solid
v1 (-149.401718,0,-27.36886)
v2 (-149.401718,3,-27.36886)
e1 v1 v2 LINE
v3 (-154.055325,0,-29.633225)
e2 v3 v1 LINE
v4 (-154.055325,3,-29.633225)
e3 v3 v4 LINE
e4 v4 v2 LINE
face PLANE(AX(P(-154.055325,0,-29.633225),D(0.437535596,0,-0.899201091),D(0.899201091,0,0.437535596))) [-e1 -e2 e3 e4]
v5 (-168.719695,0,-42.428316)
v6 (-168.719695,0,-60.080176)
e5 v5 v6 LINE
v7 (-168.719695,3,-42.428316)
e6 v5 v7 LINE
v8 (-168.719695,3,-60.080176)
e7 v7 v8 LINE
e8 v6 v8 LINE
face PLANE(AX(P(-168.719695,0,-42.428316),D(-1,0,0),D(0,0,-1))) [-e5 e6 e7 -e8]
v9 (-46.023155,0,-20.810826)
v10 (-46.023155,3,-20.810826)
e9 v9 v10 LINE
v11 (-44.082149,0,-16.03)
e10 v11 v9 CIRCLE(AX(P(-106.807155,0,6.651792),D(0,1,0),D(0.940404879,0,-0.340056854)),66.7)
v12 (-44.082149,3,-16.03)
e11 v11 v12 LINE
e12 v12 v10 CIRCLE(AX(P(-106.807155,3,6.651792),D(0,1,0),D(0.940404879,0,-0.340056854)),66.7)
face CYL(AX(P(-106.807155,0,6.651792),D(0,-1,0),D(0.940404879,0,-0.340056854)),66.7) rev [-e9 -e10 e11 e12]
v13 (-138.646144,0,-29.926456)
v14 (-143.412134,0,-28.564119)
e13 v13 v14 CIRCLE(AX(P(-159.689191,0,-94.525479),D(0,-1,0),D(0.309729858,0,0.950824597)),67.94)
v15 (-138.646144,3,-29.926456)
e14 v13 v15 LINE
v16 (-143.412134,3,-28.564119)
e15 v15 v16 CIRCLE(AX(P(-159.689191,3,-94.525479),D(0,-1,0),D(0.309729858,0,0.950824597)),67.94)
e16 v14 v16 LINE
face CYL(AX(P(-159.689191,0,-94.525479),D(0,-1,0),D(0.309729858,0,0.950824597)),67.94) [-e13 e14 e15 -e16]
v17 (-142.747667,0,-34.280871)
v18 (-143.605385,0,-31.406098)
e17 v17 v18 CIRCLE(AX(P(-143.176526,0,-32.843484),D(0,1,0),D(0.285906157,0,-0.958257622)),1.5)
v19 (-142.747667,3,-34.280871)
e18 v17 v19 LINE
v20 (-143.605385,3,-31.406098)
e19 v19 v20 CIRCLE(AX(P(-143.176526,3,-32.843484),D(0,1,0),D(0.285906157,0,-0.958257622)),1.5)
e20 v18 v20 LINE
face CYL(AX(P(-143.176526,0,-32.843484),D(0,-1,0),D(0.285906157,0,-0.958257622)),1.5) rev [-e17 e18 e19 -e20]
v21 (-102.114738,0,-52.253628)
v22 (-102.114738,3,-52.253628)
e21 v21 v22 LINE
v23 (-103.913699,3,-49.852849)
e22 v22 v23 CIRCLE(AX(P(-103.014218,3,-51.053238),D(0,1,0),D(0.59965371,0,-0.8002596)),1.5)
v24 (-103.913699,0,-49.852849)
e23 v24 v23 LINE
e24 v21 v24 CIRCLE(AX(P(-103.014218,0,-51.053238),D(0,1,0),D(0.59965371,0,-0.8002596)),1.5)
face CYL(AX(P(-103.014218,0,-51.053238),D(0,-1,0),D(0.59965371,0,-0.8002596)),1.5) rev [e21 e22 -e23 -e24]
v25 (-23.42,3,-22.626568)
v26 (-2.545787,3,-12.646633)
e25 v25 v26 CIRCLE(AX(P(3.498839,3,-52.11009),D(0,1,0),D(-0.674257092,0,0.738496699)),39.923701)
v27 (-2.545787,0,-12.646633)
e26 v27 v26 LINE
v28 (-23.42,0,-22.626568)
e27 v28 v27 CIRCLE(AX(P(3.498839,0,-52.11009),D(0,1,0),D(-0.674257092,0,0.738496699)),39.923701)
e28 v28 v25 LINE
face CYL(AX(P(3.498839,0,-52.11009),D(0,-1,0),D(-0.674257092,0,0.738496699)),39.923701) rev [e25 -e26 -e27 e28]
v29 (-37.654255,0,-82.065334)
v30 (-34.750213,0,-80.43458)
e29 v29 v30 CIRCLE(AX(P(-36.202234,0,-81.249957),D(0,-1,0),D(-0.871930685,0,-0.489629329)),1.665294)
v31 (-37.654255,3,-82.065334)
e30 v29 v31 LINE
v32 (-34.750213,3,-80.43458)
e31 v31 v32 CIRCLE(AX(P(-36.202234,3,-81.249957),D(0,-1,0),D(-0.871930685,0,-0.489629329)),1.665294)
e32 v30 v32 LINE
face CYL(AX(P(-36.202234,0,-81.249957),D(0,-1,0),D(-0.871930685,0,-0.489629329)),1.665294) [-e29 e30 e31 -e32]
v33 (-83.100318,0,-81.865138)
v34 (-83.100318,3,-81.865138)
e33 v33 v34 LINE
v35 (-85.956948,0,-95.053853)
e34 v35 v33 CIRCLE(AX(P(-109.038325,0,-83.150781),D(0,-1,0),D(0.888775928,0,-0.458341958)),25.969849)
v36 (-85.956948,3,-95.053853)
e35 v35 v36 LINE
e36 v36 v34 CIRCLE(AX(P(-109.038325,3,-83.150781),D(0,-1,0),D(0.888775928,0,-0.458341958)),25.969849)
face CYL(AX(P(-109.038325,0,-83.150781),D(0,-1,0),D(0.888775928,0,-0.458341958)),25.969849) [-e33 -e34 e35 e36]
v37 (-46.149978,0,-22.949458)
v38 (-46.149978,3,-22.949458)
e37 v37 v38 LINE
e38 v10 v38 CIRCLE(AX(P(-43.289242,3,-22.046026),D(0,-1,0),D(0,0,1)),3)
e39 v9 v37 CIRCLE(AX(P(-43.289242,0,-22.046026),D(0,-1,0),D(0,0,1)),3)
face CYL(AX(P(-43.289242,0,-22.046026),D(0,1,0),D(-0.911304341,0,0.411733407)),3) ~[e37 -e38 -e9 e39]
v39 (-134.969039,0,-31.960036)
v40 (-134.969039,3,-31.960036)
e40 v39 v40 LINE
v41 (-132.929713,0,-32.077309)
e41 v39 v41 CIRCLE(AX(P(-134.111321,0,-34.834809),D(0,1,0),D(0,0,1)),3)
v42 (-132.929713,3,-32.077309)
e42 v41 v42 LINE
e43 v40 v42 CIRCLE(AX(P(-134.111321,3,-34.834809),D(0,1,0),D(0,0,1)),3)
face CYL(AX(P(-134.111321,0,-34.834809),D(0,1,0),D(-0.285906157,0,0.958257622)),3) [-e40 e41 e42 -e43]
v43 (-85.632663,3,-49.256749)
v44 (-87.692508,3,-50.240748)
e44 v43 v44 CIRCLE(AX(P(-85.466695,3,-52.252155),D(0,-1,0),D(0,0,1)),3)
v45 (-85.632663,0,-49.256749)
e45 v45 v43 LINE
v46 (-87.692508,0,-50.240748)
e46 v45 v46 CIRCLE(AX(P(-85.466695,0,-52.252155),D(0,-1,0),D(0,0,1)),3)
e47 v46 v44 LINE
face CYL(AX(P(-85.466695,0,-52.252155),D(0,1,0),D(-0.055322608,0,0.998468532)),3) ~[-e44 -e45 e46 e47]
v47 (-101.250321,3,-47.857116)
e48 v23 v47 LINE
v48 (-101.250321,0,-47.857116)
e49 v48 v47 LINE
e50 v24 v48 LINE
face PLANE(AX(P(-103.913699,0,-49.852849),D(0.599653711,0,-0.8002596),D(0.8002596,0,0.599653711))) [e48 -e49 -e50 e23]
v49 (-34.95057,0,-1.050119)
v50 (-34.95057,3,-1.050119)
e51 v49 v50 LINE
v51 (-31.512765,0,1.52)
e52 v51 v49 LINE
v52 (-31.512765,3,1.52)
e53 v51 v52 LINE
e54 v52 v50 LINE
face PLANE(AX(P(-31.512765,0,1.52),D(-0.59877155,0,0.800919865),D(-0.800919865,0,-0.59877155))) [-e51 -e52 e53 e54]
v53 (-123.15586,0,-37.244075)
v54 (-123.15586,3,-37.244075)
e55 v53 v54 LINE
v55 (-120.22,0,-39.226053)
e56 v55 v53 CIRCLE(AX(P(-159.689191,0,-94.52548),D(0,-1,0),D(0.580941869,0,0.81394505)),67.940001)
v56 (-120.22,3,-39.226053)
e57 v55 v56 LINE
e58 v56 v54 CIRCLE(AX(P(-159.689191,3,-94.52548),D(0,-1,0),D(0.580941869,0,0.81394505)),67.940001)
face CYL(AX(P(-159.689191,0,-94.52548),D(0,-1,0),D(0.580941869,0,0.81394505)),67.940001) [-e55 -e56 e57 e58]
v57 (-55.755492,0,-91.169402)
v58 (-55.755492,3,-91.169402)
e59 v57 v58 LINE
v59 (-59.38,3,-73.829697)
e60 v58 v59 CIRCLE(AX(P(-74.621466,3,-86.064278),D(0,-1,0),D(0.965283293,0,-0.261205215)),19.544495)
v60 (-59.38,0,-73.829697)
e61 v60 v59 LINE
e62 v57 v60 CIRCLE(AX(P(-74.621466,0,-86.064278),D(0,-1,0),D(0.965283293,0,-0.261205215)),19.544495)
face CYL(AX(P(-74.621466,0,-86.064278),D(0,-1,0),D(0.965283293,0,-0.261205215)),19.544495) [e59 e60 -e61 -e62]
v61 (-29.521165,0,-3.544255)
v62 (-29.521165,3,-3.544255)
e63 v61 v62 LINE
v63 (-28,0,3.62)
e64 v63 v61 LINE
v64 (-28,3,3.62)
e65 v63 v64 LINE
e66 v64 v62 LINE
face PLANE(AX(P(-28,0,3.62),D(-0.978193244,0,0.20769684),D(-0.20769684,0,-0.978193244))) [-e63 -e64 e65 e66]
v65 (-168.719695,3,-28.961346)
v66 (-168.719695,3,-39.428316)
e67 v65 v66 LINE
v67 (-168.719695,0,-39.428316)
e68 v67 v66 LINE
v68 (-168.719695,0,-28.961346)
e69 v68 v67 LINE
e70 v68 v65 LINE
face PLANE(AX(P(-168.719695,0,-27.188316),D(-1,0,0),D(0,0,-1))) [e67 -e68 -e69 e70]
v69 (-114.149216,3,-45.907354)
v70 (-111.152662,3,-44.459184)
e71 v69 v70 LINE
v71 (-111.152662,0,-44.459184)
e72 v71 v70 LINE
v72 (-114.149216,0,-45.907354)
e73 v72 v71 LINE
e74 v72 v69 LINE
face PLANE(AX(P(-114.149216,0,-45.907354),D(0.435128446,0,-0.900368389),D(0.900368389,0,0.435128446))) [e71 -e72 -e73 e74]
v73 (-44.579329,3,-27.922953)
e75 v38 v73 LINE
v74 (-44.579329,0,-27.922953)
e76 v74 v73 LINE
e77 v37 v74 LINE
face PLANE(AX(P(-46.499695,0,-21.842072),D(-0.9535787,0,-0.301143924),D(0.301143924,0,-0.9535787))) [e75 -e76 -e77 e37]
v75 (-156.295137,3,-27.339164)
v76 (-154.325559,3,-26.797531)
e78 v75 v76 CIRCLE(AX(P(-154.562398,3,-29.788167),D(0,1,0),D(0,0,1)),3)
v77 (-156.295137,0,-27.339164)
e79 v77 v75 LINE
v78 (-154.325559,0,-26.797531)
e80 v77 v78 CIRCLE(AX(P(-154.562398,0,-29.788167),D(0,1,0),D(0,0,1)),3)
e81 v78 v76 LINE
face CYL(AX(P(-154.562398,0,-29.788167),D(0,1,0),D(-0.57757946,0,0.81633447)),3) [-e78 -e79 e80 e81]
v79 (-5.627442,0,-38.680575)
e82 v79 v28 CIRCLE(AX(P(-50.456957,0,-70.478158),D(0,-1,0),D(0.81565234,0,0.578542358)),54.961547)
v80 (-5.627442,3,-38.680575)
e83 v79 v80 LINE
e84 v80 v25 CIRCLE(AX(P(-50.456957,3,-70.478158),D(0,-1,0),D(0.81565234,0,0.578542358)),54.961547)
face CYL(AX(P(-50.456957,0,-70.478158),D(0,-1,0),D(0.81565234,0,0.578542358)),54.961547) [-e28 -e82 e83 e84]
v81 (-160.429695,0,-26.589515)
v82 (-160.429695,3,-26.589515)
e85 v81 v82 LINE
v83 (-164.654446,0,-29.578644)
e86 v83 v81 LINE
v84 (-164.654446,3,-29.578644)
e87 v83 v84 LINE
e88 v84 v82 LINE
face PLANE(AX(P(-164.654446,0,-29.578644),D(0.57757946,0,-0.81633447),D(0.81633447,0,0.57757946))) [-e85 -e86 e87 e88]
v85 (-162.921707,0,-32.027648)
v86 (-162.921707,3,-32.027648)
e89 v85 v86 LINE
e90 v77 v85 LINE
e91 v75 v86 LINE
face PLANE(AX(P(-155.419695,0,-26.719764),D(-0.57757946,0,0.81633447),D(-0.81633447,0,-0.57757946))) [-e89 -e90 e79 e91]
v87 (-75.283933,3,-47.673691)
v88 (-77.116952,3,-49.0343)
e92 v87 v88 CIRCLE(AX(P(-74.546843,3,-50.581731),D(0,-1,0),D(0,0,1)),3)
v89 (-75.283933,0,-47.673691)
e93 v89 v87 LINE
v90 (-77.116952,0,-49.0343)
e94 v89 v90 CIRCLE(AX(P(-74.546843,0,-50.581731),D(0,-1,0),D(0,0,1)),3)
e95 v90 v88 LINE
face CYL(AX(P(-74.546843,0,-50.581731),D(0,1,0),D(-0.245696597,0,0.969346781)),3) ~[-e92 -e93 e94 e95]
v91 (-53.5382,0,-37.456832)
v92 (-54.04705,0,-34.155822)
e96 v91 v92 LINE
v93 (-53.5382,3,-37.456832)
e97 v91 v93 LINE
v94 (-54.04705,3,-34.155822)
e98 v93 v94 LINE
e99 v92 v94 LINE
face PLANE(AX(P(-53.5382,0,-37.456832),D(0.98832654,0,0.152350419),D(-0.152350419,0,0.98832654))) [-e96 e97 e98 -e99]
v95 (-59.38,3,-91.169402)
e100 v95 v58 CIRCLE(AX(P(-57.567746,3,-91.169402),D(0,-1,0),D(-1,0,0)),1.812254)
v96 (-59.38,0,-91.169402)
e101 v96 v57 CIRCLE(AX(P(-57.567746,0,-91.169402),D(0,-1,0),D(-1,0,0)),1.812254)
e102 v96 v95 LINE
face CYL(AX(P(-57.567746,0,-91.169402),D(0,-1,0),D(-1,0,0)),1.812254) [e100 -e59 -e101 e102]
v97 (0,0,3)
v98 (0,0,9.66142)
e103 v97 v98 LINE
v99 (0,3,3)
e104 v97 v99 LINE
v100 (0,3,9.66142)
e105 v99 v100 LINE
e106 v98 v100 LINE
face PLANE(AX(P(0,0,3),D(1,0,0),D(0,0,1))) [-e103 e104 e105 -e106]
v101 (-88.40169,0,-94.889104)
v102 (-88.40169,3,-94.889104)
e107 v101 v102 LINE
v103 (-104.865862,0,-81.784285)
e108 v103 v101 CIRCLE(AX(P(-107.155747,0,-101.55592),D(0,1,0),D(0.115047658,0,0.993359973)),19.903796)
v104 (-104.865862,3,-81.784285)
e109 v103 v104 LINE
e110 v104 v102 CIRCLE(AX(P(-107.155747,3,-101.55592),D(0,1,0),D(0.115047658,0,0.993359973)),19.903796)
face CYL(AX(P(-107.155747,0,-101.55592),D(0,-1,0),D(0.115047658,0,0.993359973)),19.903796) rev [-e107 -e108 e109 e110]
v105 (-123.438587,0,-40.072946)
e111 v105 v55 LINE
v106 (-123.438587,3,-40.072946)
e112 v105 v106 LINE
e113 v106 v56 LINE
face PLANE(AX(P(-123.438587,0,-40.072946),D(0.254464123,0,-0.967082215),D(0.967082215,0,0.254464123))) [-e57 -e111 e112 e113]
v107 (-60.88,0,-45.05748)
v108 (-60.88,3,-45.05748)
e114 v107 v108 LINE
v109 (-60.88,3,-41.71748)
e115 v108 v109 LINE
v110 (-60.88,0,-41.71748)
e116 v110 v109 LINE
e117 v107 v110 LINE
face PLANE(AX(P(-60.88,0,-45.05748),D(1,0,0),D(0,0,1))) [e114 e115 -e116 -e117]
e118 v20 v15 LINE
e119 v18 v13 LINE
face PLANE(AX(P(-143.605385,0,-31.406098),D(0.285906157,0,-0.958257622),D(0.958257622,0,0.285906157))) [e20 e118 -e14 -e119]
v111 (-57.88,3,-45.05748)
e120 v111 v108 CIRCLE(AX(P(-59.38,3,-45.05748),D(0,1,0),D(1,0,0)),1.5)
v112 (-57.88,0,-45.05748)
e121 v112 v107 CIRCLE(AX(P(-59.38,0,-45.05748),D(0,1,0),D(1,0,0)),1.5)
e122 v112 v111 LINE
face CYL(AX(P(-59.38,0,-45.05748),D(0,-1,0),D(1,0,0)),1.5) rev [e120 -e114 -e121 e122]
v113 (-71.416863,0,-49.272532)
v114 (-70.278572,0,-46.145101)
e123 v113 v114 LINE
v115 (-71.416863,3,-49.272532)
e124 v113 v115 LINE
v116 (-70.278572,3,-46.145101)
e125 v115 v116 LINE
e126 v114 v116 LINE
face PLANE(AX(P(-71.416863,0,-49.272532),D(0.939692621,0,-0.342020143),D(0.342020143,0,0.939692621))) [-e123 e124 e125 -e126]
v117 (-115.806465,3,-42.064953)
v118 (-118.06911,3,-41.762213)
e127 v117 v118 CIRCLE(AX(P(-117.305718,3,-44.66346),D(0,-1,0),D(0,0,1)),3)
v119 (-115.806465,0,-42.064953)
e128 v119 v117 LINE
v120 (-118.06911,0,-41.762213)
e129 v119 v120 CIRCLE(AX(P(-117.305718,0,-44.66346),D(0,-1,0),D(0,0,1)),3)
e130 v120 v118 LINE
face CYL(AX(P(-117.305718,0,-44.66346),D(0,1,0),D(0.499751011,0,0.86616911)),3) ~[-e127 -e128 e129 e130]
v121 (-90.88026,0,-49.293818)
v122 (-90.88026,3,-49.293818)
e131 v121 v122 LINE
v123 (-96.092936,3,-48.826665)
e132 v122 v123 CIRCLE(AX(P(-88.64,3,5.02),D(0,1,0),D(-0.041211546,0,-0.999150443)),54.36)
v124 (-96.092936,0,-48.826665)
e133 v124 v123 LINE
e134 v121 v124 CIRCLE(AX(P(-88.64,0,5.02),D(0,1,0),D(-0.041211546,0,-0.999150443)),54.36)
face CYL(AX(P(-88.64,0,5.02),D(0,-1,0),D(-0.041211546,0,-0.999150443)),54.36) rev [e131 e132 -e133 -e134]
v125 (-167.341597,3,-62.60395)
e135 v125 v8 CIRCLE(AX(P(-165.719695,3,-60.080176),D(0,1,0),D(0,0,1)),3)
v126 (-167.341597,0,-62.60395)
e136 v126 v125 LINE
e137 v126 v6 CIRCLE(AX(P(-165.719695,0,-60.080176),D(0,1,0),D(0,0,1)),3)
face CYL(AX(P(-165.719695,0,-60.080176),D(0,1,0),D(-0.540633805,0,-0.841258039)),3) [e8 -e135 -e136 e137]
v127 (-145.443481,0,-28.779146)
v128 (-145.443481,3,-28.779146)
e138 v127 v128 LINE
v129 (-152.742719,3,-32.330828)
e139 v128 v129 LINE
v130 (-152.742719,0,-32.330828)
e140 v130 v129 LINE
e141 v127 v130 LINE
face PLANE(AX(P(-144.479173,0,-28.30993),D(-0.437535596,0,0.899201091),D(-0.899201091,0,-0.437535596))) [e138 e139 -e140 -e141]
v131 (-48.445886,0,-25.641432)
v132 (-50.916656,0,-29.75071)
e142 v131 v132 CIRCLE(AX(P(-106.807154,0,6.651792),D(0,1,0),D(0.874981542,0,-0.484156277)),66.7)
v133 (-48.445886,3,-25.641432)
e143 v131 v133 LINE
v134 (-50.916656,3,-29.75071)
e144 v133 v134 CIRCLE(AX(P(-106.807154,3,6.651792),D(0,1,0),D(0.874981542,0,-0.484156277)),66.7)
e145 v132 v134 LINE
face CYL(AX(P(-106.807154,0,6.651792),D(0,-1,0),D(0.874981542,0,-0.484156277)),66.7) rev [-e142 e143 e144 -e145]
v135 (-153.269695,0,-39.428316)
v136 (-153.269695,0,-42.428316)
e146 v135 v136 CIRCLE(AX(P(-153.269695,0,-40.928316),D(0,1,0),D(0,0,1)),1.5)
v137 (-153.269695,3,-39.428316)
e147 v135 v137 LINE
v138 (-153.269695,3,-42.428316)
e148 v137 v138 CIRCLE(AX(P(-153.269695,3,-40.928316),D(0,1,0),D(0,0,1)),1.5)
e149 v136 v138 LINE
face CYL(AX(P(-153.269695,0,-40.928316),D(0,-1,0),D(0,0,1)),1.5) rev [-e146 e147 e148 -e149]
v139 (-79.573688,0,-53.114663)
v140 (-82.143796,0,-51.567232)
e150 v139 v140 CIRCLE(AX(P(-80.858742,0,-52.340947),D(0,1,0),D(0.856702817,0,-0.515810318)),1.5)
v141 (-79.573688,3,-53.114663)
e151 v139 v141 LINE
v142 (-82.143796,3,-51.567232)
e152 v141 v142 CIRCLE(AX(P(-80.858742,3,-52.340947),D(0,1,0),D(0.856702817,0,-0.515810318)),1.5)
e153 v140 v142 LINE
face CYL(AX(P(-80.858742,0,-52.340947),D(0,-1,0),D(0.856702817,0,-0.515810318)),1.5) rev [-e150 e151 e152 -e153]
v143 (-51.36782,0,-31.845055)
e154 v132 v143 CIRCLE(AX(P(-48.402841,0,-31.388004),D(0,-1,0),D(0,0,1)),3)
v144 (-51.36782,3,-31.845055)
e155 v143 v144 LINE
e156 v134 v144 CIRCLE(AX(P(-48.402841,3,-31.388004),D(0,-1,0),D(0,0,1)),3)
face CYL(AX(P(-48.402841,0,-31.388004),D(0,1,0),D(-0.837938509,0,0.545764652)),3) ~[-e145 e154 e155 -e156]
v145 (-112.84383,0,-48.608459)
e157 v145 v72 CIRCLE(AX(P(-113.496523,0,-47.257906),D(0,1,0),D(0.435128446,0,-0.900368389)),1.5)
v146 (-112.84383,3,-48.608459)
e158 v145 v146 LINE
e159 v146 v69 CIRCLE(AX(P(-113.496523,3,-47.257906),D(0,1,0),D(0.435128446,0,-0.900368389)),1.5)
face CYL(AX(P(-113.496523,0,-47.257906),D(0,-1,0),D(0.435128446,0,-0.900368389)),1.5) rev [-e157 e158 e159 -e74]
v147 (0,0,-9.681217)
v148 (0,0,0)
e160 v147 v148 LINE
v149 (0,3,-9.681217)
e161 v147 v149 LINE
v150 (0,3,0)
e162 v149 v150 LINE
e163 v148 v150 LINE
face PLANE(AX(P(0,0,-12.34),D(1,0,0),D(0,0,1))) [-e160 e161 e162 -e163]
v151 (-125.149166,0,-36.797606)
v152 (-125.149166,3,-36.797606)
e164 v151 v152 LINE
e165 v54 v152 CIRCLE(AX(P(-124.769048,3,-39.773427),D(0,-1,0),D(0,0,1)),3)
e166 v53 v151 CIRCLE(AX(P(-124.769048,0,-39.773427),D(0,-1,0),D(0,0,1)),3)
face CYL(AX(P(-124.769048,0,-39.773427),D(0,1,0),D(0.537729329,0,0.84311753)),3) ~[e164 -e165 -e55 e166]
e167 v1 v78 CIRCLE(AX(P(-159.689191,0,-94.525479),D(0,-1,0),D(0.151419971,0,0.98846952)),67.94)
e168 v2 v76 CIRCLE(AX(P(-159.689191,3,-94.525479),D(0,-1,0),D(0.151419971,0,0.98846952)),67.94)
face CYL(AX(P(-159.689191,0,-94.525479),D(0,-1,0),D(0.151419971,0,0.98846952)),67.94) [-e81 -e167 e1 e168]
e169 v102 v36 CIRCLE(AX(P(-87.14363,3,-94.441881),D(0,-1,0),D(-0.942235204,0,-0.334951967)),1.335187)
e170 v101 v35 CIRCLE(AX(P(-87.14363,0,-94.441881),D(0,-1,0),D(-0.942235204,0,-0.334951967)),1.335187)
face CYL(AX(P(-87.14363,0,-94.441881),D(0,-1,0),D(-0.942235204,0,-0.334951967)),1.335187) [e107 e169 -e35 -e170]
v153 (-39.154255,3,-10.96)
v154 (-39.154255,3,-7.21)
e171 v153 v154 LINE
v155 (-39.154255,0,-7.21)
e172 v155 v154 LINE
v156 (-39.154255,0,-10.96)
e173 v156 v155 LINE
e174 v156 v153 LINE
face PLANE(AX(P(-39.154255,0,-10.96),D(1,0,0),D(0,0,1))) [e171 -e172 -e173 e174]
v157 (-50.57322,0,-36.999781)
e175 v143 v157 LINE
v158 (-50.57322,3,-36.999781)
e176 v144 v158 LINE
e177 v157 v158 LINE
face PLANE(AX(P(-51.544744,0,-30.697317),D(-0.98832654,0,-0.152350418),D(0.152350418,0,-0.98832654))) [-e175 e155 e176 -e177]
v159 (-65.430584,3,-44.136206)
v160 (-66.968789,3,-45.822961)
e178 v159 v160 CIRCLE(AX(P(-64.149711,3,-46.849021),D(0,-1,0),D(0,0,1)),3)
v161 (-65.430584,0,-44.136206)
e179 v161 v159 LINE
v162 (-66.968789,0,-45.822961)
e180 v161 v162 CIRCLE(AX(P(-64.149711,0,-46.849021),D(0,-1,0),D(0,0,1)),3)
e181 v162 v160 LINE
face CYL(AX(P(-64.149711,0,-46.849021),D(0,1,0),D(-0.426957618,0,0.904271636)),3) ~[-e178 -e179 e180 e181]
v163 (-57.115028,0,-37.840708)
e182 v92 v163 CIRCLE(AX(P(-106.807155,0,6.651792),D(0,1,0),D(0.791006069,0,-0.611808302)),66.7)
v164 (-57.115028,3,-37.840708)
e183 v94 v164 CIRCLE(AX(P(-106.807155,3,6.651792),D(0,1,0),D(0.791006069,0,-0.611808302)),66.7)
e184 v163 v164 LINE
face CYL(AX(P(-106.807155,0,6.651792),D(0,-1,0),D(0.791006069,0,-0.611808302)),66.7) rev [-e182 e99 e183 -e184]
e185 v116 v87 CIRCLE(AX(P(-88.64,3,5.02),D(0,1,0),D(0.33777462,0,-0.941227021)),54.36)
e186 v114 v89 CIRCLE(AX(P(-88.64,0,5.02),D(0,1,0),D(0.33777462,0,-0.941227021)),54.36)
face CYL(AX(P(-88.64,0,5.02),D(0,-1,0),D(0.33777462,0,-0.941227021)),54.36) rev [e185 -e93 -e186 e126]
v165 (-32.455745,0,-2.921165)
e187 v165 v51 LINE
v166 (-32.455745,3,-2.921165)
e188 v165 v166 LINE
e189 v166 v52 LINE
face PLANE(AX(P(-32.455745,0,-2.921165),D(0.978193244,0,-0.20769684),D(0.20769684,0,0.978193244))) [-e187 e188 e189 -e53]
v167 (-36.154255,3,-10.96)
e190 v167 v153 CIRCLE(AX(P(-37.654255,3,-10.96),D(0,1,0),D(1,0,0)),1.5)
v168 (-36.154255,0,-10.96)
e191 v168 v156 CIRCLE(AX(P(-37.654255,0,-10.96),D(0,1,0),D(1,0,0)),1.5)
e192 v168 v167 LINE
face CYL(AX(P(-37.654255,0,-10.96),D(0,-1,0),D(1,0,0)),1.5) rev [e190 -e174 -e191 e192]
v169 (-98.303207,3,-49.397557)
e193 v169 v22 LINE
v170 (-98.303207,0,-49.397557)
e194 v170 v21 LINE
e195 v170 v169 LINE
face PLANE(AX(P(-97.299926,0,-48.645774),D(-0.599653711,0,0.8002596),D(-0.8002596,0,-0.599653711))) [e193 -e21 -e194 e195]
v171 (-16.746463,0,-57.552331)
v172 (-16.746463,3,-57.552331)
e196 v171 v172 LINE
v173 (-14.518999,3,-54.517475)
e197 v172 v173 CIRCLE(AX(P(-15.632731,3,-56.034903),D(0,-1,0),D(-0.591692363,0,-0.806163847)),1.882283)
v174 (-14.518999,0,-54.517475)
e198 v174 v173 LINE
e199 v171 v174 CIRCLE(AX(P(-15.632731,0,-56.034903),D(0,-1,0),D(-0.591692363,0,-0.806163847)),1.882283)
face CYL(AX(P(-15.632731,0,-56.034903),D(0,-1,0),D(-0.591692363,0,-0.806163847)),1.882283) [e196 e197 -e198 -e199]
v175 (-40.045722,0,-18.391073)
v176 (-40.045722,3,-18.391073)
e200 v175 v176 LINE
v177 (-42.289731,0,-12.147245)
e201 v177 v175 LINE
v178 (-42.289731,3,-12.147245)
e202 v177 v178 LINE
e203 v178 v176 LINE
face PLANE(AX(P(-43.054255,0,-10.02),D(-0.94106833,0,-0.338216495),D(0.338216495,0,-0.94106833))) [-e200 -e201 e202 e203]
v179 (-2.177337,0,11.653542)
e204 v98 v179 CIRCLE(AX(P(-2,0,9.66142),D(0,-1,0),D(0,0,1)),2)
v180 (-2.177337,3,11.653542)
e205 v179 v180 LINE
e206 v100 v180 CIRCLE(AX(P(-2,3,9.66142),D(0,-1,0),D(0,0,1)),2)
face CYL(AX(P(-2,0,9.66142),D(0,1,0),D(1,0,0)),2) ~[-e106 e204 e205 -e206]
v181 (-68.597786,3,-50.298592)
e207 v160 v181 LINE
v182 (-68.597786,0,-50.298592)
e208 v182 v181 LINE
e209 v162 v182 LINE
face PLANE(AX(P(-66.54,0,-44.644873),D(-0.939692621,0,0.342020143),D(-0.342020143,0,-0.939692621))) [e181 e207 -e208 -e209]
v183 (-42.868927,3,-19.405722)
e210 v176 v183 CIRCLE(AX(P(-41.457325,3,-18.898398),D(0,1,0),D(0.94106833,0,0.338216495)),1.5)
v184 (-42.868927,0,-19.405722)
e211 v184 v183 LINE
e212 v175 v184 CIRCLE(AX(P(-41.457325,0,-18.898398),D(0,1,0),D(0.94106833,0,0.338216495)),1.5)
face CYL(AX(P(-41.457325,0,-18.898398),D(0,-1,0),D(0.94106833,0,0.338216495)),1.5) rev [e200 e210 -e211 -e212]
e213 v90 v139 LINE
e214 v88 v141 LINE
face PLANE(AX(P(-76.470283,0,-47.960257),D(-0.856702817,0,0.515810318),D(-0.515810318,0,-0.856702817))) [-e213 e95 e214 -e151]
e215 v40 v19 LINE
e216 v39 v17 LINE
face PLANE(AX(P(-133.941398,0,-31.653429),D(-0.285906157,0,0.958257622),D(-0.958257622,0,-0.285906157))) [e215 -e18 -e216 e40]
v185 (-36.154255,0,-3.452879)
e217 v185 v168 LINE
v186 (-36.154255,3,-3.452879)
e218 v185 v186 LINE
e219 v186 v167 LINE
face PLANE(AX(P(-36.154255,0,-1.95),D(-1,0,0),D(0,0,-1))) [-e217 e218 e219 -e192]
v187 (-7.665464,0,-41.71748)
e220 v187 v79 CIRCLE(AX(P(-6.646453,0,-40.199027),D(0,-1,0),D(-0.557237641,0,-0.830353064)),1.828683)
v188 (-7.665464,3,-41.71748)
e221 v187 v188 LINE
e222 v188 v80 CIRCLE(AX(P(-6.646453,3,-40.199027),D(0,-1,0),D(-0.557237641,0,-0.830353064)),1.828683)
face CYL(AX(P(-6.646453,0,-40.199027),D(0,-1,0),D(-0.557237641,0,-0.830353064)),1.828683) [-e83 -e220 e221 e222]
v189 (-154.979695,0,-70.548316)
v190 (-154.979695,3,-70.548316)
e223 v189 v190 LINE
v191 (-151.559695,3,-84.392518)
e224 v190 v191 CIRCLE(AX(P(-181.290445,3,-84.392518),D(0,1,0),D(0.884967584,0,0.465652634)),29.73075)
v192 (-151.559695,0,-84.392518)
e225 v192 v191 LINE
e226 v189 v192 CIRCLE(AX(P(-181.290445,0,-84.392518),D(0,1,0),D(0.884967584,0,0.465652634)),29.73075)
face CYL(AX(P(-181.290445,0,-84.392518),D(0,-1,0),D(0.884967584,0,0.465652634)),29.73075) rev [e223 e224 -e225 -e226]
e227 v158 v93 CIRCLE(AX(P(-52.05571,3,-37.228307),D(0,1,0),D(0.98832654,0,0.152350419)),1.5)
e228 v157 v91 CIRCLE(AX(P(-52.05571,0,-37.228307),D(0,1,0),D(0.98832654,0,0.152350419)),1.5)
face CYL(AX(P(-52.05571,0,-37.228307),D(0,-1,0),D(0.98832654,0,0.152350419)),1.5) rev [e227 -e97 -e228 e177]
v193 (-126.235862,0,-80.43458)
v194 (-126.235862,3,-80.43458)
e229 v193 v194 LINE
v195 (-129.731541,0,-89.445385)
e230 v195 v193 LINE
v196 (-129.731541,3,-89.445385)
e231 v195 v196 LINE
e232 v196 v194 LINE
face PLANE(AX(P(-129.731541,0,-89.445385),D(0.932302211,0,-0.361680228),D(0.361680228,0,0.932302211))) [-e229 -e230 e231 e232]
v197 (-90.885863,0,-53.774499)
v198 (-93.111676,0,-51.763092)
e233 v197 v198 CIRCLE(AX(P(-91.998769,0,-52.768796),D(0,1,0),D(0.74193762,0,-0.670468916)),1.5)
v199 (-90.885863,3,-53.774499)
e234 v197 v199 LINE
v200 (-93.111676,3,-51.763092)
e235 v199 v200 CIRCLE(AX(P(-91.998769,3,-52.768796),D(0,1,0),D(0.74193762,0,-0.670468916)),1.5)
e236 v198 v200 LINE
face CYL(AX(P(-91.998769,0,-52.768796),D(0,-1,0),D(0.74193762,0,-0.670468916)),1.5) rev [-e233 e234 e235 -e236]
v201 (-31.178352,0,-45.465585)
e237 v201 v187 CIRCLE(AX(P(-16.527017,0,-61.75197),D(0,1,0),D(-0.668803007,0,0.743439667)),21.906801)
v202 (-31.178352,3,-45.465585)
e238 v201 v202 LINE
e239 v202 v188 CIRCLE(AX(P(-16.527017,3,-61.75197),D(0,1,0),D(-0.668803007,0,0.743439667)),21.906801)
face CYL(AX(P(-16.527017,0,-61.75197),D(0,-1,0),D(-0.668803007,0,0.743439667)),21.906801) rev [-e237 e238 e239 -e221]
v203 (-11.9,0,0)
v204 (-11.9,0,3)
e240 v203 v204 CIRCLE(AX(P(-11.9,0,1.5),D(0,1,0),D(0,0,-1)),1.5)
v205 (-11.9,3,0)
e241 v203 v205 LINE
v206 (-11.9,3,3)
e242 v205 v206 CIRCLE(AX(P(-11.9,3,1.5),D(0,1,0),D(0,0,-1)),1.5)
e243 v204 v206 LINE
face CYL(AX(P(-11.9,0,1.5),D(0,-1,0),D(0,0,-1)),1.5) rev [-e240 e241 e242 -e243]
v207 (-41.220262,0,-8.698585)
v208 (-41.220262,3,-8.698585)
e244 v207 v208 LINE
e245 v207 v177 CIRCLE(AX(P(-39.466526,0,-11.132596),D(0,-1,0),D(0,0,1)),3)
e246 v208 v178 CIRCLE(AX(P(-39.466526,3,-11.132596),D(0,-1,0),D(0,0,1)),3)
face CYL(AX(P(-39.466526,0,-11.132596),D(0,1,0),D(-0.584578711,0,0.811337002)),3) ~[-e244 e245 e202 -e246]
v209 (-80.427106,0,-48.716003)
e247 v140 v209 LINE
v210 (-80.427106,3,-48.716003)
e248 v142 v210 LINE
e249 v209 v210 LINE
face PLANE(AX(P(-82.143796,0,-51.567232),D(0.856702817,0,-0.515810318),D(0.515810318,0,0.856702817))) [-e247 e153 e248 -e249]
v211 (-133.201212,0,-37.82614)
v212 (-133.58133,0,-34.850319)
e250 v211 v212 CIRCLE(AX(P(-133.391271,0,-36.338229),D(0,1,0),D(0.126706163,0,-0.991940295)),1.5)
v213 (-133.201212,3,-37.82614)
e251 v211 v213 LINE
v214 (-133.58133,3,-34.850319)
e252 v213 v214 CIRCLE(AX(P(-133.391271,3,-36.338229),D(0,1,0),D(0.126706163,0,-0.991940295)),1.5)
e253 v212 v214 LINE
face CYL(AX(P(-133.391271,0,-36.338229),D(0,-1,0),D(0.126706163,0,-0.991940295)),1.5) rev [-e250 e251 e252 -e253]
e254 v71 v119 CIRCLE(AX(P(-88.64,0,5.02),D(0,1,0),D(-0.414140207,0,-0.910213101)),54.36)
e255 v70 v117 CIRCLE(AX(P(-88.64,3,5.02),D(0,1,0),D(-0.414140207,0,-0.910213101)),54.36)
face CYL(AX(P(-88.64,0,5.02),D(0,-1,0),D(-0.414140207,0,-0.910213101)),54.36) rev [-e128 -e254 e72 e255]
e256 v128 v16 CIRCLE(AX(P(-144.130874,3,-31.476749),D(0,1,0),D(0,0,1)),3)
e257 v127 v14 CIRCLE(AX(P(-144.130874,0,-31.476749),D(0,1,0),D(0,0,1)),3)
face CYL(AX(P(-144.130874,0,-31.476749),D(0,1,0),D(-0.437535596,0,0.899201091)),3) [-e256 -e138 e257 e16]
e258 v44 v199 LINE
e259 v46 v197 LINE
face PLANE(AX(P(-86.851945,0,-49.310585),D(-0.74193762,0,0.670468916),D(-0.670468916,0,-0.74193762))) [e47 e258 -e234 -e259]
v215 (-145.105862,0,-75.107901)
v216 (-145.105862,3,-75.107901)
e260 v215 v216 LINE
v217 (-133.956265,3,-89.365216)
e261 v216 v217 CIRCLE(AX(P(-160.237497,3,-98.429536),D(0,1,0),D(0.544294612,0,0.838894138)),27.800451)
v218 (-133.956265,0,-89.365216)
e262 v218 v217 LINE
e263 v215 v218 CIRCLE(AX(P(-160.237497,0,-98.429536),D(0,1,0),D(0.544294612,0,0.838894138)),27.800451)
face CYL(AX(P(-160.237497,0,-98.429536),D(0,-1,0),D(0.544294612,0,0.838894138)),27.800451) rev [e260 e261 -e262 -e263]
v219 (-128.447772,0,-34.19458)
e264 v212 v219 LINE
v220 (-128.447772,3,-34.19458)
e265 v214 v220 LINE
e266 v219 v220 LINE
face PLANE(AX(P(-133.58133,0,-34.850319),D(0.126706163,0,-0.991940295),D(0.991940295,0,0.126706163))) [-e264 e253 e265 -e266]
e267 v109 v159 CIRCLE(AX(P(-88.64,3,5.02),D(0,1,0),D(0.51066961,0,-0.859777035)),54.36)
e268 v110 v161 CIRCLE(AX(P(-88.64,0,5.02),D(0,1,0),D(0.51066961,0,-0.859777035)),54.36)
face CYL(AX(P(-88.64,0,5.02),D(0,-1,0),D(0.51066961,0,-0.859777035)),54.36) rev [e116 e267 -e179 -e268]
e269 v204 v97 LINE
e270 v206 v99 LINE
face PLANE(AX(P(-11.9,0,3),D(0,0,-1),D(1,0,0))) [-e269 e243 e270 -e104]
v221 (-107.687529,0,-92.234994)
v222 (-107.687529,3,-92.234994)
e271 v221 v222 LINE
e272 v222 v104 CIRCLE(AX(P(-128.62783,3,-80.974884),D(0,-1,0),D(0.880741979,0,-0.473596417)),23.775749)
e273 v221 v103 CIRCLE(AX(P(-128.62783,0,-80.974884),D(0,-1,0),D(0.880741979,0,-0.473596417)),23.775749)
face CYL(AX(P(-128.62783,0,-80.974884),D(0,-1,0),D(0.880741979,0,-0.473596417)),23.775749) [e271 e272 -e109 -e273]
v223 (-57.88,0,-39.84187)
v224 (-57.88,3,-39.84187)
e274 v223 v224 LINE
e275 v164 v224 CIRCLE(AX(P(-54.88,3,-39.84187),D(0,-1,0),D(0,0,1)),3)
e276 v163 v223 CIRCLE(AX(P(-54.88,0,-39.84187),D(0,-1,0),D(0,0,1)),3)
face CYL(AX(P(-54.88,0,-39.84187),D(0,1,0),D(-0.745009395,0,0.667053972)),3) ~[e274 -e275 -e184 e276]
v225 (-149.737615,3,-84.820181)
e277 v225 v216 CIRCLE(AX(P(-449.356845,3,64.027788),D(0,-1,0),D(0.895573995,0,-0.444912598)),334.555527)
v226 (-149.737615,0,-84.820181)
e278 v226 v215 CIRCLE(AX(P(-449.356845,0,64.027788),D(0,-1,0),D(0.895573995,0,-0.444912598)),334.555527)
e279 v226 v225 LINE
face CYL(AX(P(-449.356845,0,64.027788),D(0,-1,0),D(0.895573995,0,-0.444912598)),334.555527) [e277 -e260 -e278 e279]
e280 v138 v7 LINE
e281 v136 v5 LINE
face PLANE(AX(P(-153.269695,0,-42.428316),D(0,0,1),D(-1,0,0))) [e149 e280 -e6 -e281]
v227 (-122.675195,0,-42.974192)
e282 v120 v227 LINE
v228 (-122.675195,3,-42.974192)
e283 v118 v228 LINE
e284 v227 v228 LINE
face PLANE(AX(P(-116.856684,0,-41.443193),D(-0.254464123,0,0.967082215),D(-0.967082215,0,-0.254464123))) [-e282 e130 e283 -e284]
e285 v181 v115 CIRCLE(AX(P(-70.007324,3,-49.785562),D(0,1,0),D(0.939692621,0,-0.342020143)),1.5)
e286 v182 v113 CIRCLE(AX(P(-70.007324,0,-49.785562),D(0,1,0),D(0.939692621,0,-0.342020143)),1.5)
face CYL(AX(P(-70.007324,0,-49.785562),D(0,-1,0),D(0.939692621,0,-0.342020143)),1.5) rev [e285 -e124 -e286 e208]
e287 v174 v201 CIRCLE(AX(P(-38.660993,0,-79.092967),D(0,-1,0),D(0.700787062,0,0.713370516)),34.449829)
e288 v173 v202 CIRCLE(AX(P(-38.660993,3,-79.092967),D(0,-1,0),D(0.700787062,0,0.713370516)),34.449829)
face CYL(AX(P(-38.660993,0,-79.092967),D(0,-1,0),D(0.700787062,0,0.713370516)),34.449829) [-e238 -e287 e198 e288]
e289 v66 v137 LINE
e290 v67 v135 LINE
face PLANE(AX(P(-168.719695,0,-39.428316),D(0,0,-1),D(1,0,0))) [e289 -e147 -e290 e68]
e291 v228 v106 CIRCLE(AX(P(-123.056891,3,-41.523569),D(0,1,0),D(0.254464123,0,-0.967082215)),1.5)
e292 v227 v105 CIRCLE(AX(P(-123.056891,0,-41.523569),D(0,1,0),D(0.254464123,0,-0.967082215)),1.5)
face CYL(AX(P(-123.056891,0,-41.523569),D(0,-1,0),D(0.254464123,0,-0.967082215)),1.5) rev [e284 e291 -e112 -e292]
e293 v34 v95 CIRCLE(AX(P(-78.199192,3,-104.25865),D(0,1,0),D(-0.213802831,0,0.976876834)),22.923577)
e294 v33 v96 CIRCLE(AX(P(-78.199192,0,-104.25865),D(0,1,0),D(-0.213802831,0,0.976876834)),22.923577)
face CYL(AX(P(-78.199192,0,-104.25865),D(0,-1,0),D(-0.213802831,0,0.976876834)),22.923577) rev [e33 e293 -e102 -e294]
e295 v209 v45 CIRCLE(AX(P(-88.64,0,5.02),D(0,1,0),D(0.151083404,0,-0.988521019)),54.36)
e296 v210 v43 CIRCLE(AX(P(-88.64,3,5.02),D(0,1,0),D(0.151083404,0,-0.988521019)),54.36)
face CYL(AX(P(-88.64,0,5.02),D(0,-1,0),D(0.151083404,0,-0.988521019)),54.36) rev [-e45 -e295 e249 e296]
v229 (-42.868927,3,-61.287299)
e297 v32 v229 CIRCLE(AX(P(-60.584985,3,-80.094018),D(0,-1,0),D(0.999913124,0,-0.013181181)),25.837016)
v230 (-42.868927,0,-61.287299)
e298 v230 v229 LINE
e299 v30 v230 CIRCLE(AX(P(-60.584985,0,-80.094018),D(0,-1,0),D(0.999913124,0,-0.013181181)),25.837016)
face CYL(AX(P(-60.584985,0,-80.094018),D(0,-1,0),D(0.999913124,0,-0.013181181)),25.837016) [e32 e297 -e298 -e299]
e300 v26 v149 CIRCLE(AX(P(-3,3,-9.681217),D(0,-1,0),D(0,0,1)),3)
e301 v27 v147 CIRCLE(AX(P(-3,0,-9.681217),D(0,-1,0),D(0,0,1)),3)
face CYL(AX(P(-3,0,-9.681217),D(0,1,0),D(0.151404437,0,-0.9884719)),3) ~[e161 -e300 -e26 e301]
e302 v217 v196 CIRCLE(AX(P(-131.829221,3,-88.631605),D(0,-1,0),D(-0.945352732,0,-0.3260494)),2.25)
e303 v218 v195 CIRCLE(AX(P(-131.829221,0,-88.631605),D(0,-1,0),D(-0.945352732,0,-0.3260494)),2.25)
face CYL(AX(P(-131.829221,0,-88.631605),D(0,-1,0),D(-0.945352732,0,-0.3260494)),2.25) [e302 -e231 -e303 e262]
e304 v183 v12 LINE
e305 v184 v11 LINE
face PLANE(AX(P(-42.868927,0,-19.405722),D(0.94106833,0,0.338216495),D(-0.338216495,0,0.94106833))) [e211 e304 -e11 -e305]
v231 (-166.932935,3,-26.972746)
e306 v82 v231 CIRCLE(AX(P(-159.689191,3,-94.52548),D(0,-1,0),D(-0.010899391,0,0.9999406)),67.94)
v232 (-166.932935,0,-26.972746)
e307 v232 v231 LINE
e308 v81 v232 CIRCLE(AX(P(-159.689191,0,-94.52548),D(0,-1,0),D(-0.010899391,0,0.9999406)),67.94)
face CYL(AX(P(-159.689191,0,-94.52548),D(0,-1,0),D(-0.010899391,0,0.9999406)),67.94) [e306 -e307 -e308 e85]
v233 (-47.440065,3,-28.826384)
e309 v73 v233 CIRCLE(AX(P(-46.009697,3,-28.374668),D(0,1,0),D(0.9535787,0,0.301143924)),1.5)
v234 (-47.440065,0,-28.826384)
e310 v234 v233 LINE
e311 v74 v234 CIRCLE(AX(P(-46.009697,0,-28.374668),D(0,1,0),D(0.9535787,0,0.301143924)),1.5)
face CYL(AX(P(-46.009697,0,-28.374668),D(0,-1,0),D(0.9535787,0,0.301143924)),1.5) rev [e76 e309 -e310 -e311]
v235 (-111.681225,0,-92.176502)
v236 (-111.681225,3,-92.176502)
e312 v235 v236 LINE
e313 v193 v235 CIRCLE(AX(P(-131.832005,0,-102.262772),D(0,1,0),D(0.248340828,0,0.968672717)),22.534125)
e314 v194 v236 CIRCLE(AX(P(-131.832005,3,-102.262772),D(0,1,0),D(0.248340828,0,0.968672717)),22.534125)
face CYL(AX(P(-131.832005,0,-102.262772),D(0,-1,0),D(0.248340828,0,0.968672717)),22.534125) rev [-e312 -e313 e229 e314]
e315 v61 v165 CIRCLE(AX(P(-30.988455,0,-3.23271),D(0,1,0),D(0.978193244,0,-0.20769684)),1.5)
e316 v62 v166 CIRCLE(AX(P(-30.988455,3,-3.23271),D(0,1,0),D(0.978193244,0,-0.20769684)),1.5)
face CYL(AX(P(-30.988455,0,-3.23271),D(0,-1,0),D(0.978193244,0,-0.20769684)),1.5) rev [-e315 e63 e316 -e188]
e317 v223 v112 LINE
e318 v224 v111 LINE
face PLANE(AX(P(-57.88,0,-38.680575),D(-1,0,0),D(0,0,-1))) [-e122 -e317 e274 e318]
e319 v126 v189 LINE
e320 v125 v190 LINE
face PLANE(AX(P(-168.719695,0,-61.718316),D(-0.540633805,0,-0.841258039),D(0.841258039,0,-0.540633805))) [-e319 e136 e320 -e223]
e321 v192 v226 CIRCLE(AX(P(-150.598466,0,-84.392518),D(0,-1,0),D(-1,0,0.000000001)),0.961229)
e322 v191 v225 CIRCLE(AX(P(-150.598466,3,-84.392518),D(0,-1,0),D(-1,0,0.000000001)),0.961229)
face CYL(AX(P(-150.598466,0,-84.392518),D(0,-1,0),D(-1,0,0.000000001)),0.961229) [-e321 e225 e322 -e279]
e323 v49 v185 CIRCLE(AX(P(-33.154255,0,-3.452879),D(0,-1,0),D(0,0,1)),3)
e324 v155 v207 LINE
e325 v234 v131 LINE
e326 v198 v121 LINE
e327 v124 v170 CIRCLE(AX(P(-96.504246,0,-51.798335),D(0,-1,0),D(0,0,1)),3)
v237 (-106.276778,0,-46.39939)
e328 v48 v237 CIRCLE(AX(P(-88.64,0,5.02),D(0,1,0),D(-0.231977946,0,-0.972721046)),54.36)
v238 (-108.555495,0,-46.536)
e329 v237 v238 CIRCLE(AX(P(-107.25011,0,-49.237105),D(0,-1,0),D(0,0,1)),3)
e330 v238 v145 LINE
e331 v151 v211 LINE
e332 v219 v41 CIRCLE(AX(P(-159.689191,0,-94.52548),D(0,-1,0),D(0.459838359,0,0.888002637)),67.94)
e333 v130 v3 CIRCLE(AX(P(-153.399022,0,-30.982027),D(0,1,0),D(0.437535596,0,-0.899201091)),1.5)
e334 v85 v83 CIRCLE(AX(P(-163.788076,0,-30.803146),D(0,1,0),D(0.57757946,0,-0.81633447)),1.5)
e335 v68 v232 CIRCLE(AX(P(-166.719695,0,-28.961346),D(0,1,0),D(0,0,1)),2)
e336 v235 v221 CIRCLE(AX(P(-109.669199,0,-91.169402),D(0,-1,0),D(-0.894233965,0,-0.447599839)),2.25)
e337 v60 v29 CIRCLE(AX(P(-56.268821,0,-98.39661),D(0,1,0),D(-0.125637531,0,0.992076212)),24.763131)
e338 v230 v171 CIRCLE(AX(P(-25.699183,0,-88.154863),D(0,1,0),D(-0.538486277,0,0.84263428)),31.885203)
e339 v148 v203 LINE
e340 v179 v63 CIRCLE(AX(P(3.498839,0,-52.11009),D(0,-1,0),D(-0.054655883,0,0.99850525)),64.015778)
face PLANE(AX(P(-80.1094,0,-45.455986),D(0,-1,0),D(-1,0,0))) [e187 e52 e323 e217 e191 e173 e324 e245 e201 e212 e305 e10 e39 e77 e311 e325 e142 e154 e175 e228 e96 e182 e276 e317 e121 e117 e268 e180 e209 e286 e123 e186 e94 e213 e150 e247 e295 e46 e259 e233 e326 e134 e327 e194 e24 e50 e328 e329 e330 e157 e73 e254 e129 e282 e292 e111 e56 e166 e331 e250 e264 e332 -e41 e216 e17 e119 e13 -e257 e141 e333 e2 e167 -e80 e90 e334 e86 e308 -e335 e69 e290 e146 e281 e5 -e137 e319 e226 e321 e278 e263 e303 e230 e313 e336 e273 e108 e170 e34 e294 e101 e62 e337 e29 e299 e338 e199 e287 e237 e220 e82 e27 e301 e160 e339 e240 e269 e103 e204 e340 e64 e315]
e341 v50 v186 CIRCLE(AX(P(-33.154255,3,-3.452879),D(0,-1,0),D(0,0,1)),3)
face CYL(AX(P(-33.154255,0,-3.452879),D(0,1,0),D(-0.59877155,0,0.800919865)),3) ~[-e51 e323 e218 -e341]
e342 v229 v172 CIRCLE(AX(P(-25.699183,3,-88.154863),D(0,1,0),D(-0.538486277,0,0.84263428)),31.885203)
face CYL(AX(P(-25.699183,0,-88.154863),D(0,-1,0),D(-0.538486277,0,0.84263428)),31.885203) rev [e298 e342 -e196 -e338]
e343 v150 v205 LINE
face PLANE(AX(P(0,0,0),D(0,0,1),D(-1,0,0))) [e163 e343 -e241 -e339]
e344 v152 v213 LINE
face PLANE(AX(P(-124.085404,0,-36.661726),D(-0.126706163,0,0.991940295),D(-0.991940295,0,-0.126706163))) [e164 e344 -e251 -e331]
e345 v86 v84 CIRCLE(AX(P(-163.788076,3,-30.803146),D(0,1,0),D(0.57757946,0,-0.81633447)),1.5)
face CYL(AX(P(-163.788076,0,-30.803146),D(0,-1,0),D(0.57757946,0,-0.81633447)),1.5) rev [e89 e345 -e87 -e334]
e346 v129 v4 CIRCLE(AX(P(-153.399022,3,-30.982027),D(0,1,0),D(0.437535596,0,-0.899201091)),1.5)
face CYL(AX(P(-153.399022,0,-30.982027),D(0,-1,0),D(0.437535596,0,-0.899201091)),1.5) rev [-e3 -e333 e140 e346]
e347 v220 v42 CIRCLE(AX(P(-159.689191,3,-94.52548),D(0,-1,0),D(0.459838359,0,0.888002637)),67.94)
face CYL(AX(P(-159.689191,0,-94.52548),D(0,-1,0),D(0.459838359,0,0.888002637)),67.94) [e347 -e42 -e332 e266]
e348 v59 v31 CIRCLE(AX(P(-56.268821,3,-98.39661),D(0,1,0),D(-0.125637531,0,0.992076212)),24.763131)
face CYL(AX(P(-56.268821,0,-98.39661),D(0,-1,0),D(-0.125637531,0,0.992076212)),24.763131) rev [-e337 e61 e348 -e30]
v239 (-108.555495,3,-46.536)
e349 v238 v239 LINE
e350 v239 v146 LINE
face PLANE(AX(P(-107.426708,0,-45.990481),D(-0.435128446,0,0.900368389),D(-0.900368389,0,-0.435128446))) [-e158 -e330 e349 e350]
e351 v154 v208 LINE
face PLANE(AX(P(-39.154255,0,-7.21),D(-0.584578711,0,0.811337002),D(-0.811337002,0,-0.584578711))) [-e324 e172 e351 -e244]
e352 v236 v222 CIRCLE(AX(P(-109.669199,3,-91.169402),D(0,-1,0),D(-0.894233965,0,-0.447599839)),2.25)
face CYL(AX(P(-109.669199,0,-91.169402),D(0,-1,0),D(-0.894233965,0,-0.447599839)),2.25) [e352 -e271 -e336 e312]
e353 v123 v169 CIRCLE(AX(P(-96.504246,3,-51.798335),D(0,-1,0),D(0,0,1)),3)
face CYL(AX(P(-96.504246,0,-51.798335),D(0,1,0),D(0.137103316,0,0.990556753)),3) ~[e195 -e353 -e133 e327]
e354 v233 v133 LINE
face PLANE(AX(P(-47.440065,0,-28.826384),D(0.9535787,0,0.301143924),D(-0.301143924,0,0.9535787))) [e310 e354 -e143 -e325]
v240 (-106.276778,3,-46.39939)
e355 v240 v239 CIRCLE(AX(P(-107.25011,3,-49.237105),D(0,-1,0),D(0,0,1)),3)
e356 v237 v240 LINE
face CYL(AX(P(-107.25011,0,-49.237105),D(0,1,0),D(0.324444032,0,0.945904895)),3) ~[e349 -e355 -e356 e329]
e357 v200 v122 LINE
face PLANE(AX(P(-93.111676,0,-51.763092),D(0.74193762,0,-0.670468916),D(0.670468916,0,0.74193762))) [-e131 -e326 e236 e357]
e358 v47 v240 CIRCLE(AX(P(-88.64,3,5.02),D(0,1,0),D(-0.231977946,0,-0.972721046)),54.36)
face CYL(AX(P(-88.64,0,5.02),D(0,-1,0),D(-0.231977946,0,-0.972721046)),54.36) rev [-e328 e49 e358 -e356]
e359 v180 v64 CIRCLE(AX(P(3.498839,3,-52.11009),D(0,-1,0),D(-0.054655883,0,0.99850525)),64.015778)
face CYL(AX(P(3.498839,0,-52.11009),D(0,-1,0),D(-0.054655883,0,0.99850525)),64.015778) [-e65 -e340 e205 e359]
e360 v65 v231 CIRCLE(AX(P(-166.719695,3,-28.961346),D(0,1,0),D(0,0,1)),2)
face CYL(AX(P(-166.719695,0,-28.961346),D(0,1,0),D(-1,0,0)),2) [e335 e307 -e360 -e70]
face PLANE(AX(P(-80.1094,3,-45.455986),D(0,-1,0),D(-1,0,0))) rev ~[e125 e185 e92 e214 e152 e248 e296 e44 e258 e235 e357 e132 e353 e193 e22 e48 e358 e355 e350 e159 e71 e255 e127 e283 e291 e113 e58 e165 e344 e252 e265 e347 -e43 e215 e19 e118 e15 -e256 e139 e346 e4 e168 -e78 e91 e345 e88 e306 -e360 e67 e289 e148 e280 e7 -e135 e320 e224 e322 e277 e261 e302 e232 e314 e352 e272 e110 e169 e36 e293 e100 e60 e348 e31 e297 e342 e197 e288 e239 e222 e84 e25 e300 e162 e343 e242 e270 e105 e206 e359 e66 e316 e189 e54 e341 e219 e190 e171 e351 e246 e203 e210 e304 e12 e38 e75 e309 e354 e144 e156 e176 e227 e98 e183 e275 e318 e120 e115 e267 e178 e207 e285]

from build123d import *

# Parameters (mm, degrees)
BOSS_EXTRUDE1_DEPTH = 3
FILLET1_R           = 3
FILLET2_R           = 2
FILLET3_R           = 3


with BuildPart() as part:
    # Sketch1 → Boss-Extrude1 (new body)
    with BuildSketch(Plane(origin=(0, 0, 0), x_dir=(1, 0, 0), z_dir=(0, 1, 0))):
        with BuildLine():
            Line((0, 0), (-11.9, 0))
            ThreePointArc((-11.9, 0), (-13.4, -1.5), (-11.9, -3))
            Line((-11.9, -3), (0, -3))
            Line((0, -3), (0, -11.81))
            ThreePointArc((0, -11.81), (-14.472760581, -9.33127549), (-28, -3.62))
            Line((-28, -3.62), (-29.521164874, 3.544255393))
            ThreePointArc((-29.521164874, 3.544255393), (-31.3, 4.7), (-32.455744607, 2.921164874))
            Line((-32.455744607, 2.921164874), (-31.51276538, -1.52))
            Line((-31.51276538, -1.52), (-36.154254994, 1.95))
            Line((-36.154254994, 1.95), (-36.154254994, 10.96))
            ThreePointArc((-36.154254994, 10.96), (-37.654254994, 12.46), (-39.154254994, 10.96))
            Line((-39.154254994, 10.96), (-39.154254994, 7.21))
            Line((-39.154254994, 7.21), (-43.054254994, 10.02))
            Line((-43.054254994, 10.02), (-40.045722247, 18.391072762))
            ThreePointArc((-40.045722247, 18.391072762), (-40.95, 20.31), (-42.868927238, 19.405722247))
            Line((-42.868927238, 19.405722247), (-44.082149392, 16.03))
            ThreePointArc((-44.082149392, 16.03), (-45.222319739, 18.964571548), (-46.49969517, 21.842072304))
            Line((-46.49969517, 21.842072304), (-44.579329128, 27.922952603))
            ThreePointArc((-44.579329128, 27.922952603), (-45.557981292, 29.805036539), (-47.440065228, 28.826384375))
            Line((-47.440065228, 28.826384375), (-48.445885934, 25.641431517))
            ThreePointArc((-48.445885934, 25.641431517), (-49.939100175, 28.203829515), (-51.544744053, 30.697317034))
            Line((-51.544744053, 30.697317034), (-50.573219985, 36.999780991))
            ThreePointArc((-50.573219985, 36.999780991), (-51.827184167, 38.710796429), (-53.538199605, 37.456832246))
            Line((-53.538199605, 37.456832246), (-54.047050003, 34.155821602))
            ThreePointArc((-54.047050003, 34.155821602), (-55.913215675, 36.460815735), (-57.88, 38.680575111))
            Line((-57.88, 38.680575111), (-57.88, 45.057479607))
            ThreePointArc((-57.88, 45.057479607), (-59.38, 46.557479607), (-60.88, 45.057479607))
            Line((-60.88, 45.057479607), (-60.88, 41.717479607))
            ThreePointArc((-60.88, 41.717479607), (-63.667068497, 43.264182629), (-66.54, 44.644872898))
            Line((-66.54, 44.644872898), (-68.597785529, 50.298592173))
            ThreePointArc((-68.597785529, 50.298592173), (-70.520354675, 51.195100889), (-71.416863391, 49.272531743))
            Line((-71.416863391, 49.272531743), (-70.278571651, 46.145100889))
            ThreePointArc((-70.278571651, 46.145100889), (-73.347472166, 47.144625873), (-76.47028294, 47.960256574))
            Line((-76.47028294, 47.960256574), (-79.573687895, 53.114662515))
            ThreePointArc((-79.573687895, 53.114662515), (-81.632457597, 53.626001263), (-82.143796345, 51.567231561))
            Line((-82.143796345, 51.567231561), (-80.427106156, 48.716002593))
            ThreePointArc((-80.427106156, 48.716002593), (-83.630695873, 49.108702849), (-86.851944729, 49.310584926))
            Line((-86.851944729, 49.310584926), (-90.88586279, 53.774498903))
            ThreePointArc((-90.88586279, 53.774498903), (-93.004472595, 53.881701959), (-93.111675651, 51.763092154))
            Line((-93.111675651, 51.763092154), (-90.880259623, 49.293818102))
            ThreePointArc((-90.880259623, 49.293818102), (-94.099716335, 49.065128247), (-97.299926084, 48.645773825))
            Line((-97.299926084, 48.645773825), (-102.114737888, 52.253627786))
            ThreePointArc((-102.114737888, 52.253627786), (-104.214607854, 51.952718952), (-103.913699021, 49.852848986))
            Line((-103.913699021, 49.852848986), (-101.250321117, 47.857116046))
            ThreePointArc((-101.250321117, 47.857116046), (-104.366234103, 47.015518263), (-107.426707901, 45.990481337))
            Line((-107.426707901, 45.990481337), (-112.84383048, 48.608458779))
            ThreePointArc((-112.84383048, 48.608458779), (-114.847075732, 47.910598865), (-114.149215819, 45.907353613))
            Line((-114.149215819, 45.907353613), (-111.152661609, 44.459184182))
            ThreePointArc((-111.152661609, 44.459184182), (-114.049460622, 43.035893612), (-116.856684479, 41.443193143))
            Line((-116.856684479, 41.443193143), (-122.675194955, 42.974192412))
            ThreePointArc((-122.675194955, 42.974192412), (-124.507514461, 41.905265274), (-123.438587323, 40.072945768))
            Line((-123.438587323, 40.072945768), (-120.22, 39.226052931))
            ThreePointArc((-120.22, 39.226052931), (-122.130810504, 37.91089066), (-124.085404111, 36.661725973))
            Line((-124.085404111, 36.661725973), (-133.201211912, 37.826139832))
            ThreePointArc((-133.201211912, 37.826139832), (-134.879181598, 36.528288634), (-133.5813304, 34.850318948))
            Line((-133.5813304, 34.850318948), (-128.447772492, 34.194580466))
            ThreePointArc((-128.447772492, 34.194580466), (-131.166271961, 32.86279471), (-133.941398342, 31.653428662))
            Line((-133.941398342, 31.653428662), (-142.747666571, 34.280870646))
            ThreePointArc((-142.747666571, 34.280870646), (-144.613912239, 33.272343449), (-143.605385042, 31.406097782))
            Line((-143.605385042, 31.406097782), (-138.64614403, 29.926456496))
            ThreePointArc((-138.64614403, 29.926456496), (-141.544646969, 29.053202022), (-144.4791725, 28.309930489))
            Line((-144.4791725, 28.309930489), (-152.742718566, 32.330828141))
            ThreePointArc((-152.742718566, 32.330828141), (-154.747823596, 31.638329899), (-154.055325354, 29.633224868))
            Line((-154.055325354, 29.633224868), (-149.401717777, 27.368860438))
            ThreePointArc((-149.401717777, 27.368860438), (-152.403474262, 26.977260292), (-155.41969517, 26.719764481))
            Line((-155.41969517, 26.719764481), (-162.921707309, 32.027647804))
            ThreePointArc((-162.921707309, 32.027647804), (-165.012578204, 31.669515289), (-164.654445689, 29.578644394))
            Line((-164.654445689, 29.578644394), (-160.42969517, 26.589515289))
            ThreePointArc((-160.42969517, 26.589515289), (-164.583860714, 26.762024861), (-168.71969517, 27.188316155))
            Line((-168.71969517, 27.188316155), (-168.71969517, 39.428316155))
            Line((-168.71969517, 39.428316155), (-153.26969517, 39.428316155))
            ThreePointArc((-153.26969517, 39.428316155), (-151.76969517, 40.928316155), (-153.26969517, 42.428316155))
            Line((-153.26969517, 42.428316155), (-168.71969517, 42.428316155))
            Line((-168.71969517, 42.428316155), (-168.71969517, 61.718316155))
            Line((-168.71969517, 61.718316155), (-154.97969517, 70.548316155))
            ThreePointArc((-154.97969517, 70.548316155), (-152.427356059, 77.262330075), (-151.55969517, 84.392518181))
            ThreePointArc((-151.55969517, 84.392518181), (-150.818108815, 85.328316155), (-149.737615052, 84.820180937))
            ThreePointArc((-149.737615052, 84.820180937), (-147.382689286, 79.982663325), (-145.105861662, 75.107900975))
            ThreePointArc((-145.105861662, 75.107900975), (-138.338315476, 81.303798165), (-133.956265042, 89.365215991))
            ThreePointArc((-133.956265042, 89.365215991), (-131.871910246, 90.88119984), (-129.731541419, 89.445385354))
            Line((-129.731541419, 89.445385354), (-126.235861662, 80.434580466))
            ThreePointArc((-126.235861662, 80.434580466), (-117.683005247, 84.724454595), (-111.681225051, 92.176501788))
            ThreePointArc((-111.681225051, 92.176501788), (-109.702148951, 93.419160866), (-107.687529176, 92.234994088))
            ThreePointArc((-107.687529176, 92.234994088), (-105.674016695, 87.172361666), (-104.865861662, 81.78428548))
            ThreePointArc((-104.865861662, 81.78428548), (-94.760346639, 85.983021815), (-88.401689579, 94.889104066))
            ThreePointArc((-88.401689579, 94.889104066), (-87.233402896, 95.774045948), (-85.956947781, 95.053852748))
            ThreePointArc((-85.956947781, 95.053852748), (-83.657021666, 88.648283331), (-83.100317918, 81.865137997))
            ThreePointArc((-83.100317918, 81.865137997), (-69.828381219, 82.918079825), (-59.38, 91.169402151))
            ThreePointArc((-59.38, 91.169402151), (-57.567745971, 92.98165618), (-55.755491942, 91.169402151))
            ThreePointArc((-55.755491942, 91.169402151), (-55.490451605, 82.06533391), (-59.38, 73.829696824))
            ThreePointArc((-59.38, 73.829696824), (-47.491282563, 75.241319694), (-37.654254994, 82.06533391))
            ThreePointArc((-37.654254994, 82.06533391), (-35.386857444, 82.701978015), (-34.750213339, 80.434580466))
            ThreePointArc((-34.750213339, 80.434580466), (-36.797944646, 70.007982254), (-42.868927238, 61.287298558))
            ThreePointArc((-42.868927238, 61.287298558), (-30.212205095, 56.590662372), (-16.746463394, 57.5523314))
            ThreePointArc((-16.746463394, 57.5523314), (-14.115302595, 57.148635399), (-14.518998596, 54.5174746))
            ThreePointArc((-14.518998596, 54.5174746), (-22.213696249, 48.822896746), (-31.178351733, 45.465585178))
            ThreePointArc((-31.178351733, 45.465585178), (-19.97556246, 40.118304816), (-7.665463567, 41.717479607))
            ThreePointArc((-7.665463567, 41.717479607), (-5.128000509, 41.21803817), (-5.627441946, 38.680575111))
            ThreePointArc((-5.627441946, 38.680575111), (-13.63807278, 29.672013228), (-23.42, 22.626568355))
            ThreePointArc((-23.42, 22.626568355), (-12.55613394, 15.556844164), (0, 12.34))
            Line((0, 12.34), (0, 0))
        make_face()
    extrude(amount=BOSS_EXTRUDE1_DEPTH)

    # Fillet1
    fillet1_edges = [part.edges().sort_by_distance(p)[0] for p in [
        (0, 1.5, -12.34),
    ]]
    fillet(fillet1_edges, radius=FILLET1_R)

    # Fillet2
    fillet2_edges = [part.edges().sort_by_distance(p)[0] for p in [
        (0, 1.5, 11.81),
        (-168.71969517, 1.5, -27.188316155),
    ]]
    fillet(fillet2_edges, radius=FILLET2_R)

    # Fillet3
    fillet3_edges = [part.edges().sort_by_distance(p)[0] for p in [
        (-36.154254994, 1.5, -1.95),
        (-43.054254994, 1.5, -10.02),
        (-46.49969517, 1.5, -21.842072304),
        (-51.544744053, 1.5, -30.697317034),
        (-57.88, 1.5, -38.680575111),
        (-66.54, 1.5, -44.644872898),
        (-76.47028294, 1.5, -47.960256574),
        (-86.851944729, 1.5, -49.310584926),
        (-97.299926084, 1.5, -48.645773825),
        (-107.426707901, 1.5, -45.990481337),
        (-116.856684479, 1.5, -41.443193143),
        (-124.085404111, 1.5, -36.661725973),
        (-133.941398342, 1.5, -31.653428662),
        (-144.4791725, 1.5, -28.309930489),
        (-155.41969517, 1.5, -26.719764481),
        (-168.71969517, 1.5, -61.718316155),
    ]]
    fillet(fillet3_edges, radius=FILLET3_R)


solid = part.part
